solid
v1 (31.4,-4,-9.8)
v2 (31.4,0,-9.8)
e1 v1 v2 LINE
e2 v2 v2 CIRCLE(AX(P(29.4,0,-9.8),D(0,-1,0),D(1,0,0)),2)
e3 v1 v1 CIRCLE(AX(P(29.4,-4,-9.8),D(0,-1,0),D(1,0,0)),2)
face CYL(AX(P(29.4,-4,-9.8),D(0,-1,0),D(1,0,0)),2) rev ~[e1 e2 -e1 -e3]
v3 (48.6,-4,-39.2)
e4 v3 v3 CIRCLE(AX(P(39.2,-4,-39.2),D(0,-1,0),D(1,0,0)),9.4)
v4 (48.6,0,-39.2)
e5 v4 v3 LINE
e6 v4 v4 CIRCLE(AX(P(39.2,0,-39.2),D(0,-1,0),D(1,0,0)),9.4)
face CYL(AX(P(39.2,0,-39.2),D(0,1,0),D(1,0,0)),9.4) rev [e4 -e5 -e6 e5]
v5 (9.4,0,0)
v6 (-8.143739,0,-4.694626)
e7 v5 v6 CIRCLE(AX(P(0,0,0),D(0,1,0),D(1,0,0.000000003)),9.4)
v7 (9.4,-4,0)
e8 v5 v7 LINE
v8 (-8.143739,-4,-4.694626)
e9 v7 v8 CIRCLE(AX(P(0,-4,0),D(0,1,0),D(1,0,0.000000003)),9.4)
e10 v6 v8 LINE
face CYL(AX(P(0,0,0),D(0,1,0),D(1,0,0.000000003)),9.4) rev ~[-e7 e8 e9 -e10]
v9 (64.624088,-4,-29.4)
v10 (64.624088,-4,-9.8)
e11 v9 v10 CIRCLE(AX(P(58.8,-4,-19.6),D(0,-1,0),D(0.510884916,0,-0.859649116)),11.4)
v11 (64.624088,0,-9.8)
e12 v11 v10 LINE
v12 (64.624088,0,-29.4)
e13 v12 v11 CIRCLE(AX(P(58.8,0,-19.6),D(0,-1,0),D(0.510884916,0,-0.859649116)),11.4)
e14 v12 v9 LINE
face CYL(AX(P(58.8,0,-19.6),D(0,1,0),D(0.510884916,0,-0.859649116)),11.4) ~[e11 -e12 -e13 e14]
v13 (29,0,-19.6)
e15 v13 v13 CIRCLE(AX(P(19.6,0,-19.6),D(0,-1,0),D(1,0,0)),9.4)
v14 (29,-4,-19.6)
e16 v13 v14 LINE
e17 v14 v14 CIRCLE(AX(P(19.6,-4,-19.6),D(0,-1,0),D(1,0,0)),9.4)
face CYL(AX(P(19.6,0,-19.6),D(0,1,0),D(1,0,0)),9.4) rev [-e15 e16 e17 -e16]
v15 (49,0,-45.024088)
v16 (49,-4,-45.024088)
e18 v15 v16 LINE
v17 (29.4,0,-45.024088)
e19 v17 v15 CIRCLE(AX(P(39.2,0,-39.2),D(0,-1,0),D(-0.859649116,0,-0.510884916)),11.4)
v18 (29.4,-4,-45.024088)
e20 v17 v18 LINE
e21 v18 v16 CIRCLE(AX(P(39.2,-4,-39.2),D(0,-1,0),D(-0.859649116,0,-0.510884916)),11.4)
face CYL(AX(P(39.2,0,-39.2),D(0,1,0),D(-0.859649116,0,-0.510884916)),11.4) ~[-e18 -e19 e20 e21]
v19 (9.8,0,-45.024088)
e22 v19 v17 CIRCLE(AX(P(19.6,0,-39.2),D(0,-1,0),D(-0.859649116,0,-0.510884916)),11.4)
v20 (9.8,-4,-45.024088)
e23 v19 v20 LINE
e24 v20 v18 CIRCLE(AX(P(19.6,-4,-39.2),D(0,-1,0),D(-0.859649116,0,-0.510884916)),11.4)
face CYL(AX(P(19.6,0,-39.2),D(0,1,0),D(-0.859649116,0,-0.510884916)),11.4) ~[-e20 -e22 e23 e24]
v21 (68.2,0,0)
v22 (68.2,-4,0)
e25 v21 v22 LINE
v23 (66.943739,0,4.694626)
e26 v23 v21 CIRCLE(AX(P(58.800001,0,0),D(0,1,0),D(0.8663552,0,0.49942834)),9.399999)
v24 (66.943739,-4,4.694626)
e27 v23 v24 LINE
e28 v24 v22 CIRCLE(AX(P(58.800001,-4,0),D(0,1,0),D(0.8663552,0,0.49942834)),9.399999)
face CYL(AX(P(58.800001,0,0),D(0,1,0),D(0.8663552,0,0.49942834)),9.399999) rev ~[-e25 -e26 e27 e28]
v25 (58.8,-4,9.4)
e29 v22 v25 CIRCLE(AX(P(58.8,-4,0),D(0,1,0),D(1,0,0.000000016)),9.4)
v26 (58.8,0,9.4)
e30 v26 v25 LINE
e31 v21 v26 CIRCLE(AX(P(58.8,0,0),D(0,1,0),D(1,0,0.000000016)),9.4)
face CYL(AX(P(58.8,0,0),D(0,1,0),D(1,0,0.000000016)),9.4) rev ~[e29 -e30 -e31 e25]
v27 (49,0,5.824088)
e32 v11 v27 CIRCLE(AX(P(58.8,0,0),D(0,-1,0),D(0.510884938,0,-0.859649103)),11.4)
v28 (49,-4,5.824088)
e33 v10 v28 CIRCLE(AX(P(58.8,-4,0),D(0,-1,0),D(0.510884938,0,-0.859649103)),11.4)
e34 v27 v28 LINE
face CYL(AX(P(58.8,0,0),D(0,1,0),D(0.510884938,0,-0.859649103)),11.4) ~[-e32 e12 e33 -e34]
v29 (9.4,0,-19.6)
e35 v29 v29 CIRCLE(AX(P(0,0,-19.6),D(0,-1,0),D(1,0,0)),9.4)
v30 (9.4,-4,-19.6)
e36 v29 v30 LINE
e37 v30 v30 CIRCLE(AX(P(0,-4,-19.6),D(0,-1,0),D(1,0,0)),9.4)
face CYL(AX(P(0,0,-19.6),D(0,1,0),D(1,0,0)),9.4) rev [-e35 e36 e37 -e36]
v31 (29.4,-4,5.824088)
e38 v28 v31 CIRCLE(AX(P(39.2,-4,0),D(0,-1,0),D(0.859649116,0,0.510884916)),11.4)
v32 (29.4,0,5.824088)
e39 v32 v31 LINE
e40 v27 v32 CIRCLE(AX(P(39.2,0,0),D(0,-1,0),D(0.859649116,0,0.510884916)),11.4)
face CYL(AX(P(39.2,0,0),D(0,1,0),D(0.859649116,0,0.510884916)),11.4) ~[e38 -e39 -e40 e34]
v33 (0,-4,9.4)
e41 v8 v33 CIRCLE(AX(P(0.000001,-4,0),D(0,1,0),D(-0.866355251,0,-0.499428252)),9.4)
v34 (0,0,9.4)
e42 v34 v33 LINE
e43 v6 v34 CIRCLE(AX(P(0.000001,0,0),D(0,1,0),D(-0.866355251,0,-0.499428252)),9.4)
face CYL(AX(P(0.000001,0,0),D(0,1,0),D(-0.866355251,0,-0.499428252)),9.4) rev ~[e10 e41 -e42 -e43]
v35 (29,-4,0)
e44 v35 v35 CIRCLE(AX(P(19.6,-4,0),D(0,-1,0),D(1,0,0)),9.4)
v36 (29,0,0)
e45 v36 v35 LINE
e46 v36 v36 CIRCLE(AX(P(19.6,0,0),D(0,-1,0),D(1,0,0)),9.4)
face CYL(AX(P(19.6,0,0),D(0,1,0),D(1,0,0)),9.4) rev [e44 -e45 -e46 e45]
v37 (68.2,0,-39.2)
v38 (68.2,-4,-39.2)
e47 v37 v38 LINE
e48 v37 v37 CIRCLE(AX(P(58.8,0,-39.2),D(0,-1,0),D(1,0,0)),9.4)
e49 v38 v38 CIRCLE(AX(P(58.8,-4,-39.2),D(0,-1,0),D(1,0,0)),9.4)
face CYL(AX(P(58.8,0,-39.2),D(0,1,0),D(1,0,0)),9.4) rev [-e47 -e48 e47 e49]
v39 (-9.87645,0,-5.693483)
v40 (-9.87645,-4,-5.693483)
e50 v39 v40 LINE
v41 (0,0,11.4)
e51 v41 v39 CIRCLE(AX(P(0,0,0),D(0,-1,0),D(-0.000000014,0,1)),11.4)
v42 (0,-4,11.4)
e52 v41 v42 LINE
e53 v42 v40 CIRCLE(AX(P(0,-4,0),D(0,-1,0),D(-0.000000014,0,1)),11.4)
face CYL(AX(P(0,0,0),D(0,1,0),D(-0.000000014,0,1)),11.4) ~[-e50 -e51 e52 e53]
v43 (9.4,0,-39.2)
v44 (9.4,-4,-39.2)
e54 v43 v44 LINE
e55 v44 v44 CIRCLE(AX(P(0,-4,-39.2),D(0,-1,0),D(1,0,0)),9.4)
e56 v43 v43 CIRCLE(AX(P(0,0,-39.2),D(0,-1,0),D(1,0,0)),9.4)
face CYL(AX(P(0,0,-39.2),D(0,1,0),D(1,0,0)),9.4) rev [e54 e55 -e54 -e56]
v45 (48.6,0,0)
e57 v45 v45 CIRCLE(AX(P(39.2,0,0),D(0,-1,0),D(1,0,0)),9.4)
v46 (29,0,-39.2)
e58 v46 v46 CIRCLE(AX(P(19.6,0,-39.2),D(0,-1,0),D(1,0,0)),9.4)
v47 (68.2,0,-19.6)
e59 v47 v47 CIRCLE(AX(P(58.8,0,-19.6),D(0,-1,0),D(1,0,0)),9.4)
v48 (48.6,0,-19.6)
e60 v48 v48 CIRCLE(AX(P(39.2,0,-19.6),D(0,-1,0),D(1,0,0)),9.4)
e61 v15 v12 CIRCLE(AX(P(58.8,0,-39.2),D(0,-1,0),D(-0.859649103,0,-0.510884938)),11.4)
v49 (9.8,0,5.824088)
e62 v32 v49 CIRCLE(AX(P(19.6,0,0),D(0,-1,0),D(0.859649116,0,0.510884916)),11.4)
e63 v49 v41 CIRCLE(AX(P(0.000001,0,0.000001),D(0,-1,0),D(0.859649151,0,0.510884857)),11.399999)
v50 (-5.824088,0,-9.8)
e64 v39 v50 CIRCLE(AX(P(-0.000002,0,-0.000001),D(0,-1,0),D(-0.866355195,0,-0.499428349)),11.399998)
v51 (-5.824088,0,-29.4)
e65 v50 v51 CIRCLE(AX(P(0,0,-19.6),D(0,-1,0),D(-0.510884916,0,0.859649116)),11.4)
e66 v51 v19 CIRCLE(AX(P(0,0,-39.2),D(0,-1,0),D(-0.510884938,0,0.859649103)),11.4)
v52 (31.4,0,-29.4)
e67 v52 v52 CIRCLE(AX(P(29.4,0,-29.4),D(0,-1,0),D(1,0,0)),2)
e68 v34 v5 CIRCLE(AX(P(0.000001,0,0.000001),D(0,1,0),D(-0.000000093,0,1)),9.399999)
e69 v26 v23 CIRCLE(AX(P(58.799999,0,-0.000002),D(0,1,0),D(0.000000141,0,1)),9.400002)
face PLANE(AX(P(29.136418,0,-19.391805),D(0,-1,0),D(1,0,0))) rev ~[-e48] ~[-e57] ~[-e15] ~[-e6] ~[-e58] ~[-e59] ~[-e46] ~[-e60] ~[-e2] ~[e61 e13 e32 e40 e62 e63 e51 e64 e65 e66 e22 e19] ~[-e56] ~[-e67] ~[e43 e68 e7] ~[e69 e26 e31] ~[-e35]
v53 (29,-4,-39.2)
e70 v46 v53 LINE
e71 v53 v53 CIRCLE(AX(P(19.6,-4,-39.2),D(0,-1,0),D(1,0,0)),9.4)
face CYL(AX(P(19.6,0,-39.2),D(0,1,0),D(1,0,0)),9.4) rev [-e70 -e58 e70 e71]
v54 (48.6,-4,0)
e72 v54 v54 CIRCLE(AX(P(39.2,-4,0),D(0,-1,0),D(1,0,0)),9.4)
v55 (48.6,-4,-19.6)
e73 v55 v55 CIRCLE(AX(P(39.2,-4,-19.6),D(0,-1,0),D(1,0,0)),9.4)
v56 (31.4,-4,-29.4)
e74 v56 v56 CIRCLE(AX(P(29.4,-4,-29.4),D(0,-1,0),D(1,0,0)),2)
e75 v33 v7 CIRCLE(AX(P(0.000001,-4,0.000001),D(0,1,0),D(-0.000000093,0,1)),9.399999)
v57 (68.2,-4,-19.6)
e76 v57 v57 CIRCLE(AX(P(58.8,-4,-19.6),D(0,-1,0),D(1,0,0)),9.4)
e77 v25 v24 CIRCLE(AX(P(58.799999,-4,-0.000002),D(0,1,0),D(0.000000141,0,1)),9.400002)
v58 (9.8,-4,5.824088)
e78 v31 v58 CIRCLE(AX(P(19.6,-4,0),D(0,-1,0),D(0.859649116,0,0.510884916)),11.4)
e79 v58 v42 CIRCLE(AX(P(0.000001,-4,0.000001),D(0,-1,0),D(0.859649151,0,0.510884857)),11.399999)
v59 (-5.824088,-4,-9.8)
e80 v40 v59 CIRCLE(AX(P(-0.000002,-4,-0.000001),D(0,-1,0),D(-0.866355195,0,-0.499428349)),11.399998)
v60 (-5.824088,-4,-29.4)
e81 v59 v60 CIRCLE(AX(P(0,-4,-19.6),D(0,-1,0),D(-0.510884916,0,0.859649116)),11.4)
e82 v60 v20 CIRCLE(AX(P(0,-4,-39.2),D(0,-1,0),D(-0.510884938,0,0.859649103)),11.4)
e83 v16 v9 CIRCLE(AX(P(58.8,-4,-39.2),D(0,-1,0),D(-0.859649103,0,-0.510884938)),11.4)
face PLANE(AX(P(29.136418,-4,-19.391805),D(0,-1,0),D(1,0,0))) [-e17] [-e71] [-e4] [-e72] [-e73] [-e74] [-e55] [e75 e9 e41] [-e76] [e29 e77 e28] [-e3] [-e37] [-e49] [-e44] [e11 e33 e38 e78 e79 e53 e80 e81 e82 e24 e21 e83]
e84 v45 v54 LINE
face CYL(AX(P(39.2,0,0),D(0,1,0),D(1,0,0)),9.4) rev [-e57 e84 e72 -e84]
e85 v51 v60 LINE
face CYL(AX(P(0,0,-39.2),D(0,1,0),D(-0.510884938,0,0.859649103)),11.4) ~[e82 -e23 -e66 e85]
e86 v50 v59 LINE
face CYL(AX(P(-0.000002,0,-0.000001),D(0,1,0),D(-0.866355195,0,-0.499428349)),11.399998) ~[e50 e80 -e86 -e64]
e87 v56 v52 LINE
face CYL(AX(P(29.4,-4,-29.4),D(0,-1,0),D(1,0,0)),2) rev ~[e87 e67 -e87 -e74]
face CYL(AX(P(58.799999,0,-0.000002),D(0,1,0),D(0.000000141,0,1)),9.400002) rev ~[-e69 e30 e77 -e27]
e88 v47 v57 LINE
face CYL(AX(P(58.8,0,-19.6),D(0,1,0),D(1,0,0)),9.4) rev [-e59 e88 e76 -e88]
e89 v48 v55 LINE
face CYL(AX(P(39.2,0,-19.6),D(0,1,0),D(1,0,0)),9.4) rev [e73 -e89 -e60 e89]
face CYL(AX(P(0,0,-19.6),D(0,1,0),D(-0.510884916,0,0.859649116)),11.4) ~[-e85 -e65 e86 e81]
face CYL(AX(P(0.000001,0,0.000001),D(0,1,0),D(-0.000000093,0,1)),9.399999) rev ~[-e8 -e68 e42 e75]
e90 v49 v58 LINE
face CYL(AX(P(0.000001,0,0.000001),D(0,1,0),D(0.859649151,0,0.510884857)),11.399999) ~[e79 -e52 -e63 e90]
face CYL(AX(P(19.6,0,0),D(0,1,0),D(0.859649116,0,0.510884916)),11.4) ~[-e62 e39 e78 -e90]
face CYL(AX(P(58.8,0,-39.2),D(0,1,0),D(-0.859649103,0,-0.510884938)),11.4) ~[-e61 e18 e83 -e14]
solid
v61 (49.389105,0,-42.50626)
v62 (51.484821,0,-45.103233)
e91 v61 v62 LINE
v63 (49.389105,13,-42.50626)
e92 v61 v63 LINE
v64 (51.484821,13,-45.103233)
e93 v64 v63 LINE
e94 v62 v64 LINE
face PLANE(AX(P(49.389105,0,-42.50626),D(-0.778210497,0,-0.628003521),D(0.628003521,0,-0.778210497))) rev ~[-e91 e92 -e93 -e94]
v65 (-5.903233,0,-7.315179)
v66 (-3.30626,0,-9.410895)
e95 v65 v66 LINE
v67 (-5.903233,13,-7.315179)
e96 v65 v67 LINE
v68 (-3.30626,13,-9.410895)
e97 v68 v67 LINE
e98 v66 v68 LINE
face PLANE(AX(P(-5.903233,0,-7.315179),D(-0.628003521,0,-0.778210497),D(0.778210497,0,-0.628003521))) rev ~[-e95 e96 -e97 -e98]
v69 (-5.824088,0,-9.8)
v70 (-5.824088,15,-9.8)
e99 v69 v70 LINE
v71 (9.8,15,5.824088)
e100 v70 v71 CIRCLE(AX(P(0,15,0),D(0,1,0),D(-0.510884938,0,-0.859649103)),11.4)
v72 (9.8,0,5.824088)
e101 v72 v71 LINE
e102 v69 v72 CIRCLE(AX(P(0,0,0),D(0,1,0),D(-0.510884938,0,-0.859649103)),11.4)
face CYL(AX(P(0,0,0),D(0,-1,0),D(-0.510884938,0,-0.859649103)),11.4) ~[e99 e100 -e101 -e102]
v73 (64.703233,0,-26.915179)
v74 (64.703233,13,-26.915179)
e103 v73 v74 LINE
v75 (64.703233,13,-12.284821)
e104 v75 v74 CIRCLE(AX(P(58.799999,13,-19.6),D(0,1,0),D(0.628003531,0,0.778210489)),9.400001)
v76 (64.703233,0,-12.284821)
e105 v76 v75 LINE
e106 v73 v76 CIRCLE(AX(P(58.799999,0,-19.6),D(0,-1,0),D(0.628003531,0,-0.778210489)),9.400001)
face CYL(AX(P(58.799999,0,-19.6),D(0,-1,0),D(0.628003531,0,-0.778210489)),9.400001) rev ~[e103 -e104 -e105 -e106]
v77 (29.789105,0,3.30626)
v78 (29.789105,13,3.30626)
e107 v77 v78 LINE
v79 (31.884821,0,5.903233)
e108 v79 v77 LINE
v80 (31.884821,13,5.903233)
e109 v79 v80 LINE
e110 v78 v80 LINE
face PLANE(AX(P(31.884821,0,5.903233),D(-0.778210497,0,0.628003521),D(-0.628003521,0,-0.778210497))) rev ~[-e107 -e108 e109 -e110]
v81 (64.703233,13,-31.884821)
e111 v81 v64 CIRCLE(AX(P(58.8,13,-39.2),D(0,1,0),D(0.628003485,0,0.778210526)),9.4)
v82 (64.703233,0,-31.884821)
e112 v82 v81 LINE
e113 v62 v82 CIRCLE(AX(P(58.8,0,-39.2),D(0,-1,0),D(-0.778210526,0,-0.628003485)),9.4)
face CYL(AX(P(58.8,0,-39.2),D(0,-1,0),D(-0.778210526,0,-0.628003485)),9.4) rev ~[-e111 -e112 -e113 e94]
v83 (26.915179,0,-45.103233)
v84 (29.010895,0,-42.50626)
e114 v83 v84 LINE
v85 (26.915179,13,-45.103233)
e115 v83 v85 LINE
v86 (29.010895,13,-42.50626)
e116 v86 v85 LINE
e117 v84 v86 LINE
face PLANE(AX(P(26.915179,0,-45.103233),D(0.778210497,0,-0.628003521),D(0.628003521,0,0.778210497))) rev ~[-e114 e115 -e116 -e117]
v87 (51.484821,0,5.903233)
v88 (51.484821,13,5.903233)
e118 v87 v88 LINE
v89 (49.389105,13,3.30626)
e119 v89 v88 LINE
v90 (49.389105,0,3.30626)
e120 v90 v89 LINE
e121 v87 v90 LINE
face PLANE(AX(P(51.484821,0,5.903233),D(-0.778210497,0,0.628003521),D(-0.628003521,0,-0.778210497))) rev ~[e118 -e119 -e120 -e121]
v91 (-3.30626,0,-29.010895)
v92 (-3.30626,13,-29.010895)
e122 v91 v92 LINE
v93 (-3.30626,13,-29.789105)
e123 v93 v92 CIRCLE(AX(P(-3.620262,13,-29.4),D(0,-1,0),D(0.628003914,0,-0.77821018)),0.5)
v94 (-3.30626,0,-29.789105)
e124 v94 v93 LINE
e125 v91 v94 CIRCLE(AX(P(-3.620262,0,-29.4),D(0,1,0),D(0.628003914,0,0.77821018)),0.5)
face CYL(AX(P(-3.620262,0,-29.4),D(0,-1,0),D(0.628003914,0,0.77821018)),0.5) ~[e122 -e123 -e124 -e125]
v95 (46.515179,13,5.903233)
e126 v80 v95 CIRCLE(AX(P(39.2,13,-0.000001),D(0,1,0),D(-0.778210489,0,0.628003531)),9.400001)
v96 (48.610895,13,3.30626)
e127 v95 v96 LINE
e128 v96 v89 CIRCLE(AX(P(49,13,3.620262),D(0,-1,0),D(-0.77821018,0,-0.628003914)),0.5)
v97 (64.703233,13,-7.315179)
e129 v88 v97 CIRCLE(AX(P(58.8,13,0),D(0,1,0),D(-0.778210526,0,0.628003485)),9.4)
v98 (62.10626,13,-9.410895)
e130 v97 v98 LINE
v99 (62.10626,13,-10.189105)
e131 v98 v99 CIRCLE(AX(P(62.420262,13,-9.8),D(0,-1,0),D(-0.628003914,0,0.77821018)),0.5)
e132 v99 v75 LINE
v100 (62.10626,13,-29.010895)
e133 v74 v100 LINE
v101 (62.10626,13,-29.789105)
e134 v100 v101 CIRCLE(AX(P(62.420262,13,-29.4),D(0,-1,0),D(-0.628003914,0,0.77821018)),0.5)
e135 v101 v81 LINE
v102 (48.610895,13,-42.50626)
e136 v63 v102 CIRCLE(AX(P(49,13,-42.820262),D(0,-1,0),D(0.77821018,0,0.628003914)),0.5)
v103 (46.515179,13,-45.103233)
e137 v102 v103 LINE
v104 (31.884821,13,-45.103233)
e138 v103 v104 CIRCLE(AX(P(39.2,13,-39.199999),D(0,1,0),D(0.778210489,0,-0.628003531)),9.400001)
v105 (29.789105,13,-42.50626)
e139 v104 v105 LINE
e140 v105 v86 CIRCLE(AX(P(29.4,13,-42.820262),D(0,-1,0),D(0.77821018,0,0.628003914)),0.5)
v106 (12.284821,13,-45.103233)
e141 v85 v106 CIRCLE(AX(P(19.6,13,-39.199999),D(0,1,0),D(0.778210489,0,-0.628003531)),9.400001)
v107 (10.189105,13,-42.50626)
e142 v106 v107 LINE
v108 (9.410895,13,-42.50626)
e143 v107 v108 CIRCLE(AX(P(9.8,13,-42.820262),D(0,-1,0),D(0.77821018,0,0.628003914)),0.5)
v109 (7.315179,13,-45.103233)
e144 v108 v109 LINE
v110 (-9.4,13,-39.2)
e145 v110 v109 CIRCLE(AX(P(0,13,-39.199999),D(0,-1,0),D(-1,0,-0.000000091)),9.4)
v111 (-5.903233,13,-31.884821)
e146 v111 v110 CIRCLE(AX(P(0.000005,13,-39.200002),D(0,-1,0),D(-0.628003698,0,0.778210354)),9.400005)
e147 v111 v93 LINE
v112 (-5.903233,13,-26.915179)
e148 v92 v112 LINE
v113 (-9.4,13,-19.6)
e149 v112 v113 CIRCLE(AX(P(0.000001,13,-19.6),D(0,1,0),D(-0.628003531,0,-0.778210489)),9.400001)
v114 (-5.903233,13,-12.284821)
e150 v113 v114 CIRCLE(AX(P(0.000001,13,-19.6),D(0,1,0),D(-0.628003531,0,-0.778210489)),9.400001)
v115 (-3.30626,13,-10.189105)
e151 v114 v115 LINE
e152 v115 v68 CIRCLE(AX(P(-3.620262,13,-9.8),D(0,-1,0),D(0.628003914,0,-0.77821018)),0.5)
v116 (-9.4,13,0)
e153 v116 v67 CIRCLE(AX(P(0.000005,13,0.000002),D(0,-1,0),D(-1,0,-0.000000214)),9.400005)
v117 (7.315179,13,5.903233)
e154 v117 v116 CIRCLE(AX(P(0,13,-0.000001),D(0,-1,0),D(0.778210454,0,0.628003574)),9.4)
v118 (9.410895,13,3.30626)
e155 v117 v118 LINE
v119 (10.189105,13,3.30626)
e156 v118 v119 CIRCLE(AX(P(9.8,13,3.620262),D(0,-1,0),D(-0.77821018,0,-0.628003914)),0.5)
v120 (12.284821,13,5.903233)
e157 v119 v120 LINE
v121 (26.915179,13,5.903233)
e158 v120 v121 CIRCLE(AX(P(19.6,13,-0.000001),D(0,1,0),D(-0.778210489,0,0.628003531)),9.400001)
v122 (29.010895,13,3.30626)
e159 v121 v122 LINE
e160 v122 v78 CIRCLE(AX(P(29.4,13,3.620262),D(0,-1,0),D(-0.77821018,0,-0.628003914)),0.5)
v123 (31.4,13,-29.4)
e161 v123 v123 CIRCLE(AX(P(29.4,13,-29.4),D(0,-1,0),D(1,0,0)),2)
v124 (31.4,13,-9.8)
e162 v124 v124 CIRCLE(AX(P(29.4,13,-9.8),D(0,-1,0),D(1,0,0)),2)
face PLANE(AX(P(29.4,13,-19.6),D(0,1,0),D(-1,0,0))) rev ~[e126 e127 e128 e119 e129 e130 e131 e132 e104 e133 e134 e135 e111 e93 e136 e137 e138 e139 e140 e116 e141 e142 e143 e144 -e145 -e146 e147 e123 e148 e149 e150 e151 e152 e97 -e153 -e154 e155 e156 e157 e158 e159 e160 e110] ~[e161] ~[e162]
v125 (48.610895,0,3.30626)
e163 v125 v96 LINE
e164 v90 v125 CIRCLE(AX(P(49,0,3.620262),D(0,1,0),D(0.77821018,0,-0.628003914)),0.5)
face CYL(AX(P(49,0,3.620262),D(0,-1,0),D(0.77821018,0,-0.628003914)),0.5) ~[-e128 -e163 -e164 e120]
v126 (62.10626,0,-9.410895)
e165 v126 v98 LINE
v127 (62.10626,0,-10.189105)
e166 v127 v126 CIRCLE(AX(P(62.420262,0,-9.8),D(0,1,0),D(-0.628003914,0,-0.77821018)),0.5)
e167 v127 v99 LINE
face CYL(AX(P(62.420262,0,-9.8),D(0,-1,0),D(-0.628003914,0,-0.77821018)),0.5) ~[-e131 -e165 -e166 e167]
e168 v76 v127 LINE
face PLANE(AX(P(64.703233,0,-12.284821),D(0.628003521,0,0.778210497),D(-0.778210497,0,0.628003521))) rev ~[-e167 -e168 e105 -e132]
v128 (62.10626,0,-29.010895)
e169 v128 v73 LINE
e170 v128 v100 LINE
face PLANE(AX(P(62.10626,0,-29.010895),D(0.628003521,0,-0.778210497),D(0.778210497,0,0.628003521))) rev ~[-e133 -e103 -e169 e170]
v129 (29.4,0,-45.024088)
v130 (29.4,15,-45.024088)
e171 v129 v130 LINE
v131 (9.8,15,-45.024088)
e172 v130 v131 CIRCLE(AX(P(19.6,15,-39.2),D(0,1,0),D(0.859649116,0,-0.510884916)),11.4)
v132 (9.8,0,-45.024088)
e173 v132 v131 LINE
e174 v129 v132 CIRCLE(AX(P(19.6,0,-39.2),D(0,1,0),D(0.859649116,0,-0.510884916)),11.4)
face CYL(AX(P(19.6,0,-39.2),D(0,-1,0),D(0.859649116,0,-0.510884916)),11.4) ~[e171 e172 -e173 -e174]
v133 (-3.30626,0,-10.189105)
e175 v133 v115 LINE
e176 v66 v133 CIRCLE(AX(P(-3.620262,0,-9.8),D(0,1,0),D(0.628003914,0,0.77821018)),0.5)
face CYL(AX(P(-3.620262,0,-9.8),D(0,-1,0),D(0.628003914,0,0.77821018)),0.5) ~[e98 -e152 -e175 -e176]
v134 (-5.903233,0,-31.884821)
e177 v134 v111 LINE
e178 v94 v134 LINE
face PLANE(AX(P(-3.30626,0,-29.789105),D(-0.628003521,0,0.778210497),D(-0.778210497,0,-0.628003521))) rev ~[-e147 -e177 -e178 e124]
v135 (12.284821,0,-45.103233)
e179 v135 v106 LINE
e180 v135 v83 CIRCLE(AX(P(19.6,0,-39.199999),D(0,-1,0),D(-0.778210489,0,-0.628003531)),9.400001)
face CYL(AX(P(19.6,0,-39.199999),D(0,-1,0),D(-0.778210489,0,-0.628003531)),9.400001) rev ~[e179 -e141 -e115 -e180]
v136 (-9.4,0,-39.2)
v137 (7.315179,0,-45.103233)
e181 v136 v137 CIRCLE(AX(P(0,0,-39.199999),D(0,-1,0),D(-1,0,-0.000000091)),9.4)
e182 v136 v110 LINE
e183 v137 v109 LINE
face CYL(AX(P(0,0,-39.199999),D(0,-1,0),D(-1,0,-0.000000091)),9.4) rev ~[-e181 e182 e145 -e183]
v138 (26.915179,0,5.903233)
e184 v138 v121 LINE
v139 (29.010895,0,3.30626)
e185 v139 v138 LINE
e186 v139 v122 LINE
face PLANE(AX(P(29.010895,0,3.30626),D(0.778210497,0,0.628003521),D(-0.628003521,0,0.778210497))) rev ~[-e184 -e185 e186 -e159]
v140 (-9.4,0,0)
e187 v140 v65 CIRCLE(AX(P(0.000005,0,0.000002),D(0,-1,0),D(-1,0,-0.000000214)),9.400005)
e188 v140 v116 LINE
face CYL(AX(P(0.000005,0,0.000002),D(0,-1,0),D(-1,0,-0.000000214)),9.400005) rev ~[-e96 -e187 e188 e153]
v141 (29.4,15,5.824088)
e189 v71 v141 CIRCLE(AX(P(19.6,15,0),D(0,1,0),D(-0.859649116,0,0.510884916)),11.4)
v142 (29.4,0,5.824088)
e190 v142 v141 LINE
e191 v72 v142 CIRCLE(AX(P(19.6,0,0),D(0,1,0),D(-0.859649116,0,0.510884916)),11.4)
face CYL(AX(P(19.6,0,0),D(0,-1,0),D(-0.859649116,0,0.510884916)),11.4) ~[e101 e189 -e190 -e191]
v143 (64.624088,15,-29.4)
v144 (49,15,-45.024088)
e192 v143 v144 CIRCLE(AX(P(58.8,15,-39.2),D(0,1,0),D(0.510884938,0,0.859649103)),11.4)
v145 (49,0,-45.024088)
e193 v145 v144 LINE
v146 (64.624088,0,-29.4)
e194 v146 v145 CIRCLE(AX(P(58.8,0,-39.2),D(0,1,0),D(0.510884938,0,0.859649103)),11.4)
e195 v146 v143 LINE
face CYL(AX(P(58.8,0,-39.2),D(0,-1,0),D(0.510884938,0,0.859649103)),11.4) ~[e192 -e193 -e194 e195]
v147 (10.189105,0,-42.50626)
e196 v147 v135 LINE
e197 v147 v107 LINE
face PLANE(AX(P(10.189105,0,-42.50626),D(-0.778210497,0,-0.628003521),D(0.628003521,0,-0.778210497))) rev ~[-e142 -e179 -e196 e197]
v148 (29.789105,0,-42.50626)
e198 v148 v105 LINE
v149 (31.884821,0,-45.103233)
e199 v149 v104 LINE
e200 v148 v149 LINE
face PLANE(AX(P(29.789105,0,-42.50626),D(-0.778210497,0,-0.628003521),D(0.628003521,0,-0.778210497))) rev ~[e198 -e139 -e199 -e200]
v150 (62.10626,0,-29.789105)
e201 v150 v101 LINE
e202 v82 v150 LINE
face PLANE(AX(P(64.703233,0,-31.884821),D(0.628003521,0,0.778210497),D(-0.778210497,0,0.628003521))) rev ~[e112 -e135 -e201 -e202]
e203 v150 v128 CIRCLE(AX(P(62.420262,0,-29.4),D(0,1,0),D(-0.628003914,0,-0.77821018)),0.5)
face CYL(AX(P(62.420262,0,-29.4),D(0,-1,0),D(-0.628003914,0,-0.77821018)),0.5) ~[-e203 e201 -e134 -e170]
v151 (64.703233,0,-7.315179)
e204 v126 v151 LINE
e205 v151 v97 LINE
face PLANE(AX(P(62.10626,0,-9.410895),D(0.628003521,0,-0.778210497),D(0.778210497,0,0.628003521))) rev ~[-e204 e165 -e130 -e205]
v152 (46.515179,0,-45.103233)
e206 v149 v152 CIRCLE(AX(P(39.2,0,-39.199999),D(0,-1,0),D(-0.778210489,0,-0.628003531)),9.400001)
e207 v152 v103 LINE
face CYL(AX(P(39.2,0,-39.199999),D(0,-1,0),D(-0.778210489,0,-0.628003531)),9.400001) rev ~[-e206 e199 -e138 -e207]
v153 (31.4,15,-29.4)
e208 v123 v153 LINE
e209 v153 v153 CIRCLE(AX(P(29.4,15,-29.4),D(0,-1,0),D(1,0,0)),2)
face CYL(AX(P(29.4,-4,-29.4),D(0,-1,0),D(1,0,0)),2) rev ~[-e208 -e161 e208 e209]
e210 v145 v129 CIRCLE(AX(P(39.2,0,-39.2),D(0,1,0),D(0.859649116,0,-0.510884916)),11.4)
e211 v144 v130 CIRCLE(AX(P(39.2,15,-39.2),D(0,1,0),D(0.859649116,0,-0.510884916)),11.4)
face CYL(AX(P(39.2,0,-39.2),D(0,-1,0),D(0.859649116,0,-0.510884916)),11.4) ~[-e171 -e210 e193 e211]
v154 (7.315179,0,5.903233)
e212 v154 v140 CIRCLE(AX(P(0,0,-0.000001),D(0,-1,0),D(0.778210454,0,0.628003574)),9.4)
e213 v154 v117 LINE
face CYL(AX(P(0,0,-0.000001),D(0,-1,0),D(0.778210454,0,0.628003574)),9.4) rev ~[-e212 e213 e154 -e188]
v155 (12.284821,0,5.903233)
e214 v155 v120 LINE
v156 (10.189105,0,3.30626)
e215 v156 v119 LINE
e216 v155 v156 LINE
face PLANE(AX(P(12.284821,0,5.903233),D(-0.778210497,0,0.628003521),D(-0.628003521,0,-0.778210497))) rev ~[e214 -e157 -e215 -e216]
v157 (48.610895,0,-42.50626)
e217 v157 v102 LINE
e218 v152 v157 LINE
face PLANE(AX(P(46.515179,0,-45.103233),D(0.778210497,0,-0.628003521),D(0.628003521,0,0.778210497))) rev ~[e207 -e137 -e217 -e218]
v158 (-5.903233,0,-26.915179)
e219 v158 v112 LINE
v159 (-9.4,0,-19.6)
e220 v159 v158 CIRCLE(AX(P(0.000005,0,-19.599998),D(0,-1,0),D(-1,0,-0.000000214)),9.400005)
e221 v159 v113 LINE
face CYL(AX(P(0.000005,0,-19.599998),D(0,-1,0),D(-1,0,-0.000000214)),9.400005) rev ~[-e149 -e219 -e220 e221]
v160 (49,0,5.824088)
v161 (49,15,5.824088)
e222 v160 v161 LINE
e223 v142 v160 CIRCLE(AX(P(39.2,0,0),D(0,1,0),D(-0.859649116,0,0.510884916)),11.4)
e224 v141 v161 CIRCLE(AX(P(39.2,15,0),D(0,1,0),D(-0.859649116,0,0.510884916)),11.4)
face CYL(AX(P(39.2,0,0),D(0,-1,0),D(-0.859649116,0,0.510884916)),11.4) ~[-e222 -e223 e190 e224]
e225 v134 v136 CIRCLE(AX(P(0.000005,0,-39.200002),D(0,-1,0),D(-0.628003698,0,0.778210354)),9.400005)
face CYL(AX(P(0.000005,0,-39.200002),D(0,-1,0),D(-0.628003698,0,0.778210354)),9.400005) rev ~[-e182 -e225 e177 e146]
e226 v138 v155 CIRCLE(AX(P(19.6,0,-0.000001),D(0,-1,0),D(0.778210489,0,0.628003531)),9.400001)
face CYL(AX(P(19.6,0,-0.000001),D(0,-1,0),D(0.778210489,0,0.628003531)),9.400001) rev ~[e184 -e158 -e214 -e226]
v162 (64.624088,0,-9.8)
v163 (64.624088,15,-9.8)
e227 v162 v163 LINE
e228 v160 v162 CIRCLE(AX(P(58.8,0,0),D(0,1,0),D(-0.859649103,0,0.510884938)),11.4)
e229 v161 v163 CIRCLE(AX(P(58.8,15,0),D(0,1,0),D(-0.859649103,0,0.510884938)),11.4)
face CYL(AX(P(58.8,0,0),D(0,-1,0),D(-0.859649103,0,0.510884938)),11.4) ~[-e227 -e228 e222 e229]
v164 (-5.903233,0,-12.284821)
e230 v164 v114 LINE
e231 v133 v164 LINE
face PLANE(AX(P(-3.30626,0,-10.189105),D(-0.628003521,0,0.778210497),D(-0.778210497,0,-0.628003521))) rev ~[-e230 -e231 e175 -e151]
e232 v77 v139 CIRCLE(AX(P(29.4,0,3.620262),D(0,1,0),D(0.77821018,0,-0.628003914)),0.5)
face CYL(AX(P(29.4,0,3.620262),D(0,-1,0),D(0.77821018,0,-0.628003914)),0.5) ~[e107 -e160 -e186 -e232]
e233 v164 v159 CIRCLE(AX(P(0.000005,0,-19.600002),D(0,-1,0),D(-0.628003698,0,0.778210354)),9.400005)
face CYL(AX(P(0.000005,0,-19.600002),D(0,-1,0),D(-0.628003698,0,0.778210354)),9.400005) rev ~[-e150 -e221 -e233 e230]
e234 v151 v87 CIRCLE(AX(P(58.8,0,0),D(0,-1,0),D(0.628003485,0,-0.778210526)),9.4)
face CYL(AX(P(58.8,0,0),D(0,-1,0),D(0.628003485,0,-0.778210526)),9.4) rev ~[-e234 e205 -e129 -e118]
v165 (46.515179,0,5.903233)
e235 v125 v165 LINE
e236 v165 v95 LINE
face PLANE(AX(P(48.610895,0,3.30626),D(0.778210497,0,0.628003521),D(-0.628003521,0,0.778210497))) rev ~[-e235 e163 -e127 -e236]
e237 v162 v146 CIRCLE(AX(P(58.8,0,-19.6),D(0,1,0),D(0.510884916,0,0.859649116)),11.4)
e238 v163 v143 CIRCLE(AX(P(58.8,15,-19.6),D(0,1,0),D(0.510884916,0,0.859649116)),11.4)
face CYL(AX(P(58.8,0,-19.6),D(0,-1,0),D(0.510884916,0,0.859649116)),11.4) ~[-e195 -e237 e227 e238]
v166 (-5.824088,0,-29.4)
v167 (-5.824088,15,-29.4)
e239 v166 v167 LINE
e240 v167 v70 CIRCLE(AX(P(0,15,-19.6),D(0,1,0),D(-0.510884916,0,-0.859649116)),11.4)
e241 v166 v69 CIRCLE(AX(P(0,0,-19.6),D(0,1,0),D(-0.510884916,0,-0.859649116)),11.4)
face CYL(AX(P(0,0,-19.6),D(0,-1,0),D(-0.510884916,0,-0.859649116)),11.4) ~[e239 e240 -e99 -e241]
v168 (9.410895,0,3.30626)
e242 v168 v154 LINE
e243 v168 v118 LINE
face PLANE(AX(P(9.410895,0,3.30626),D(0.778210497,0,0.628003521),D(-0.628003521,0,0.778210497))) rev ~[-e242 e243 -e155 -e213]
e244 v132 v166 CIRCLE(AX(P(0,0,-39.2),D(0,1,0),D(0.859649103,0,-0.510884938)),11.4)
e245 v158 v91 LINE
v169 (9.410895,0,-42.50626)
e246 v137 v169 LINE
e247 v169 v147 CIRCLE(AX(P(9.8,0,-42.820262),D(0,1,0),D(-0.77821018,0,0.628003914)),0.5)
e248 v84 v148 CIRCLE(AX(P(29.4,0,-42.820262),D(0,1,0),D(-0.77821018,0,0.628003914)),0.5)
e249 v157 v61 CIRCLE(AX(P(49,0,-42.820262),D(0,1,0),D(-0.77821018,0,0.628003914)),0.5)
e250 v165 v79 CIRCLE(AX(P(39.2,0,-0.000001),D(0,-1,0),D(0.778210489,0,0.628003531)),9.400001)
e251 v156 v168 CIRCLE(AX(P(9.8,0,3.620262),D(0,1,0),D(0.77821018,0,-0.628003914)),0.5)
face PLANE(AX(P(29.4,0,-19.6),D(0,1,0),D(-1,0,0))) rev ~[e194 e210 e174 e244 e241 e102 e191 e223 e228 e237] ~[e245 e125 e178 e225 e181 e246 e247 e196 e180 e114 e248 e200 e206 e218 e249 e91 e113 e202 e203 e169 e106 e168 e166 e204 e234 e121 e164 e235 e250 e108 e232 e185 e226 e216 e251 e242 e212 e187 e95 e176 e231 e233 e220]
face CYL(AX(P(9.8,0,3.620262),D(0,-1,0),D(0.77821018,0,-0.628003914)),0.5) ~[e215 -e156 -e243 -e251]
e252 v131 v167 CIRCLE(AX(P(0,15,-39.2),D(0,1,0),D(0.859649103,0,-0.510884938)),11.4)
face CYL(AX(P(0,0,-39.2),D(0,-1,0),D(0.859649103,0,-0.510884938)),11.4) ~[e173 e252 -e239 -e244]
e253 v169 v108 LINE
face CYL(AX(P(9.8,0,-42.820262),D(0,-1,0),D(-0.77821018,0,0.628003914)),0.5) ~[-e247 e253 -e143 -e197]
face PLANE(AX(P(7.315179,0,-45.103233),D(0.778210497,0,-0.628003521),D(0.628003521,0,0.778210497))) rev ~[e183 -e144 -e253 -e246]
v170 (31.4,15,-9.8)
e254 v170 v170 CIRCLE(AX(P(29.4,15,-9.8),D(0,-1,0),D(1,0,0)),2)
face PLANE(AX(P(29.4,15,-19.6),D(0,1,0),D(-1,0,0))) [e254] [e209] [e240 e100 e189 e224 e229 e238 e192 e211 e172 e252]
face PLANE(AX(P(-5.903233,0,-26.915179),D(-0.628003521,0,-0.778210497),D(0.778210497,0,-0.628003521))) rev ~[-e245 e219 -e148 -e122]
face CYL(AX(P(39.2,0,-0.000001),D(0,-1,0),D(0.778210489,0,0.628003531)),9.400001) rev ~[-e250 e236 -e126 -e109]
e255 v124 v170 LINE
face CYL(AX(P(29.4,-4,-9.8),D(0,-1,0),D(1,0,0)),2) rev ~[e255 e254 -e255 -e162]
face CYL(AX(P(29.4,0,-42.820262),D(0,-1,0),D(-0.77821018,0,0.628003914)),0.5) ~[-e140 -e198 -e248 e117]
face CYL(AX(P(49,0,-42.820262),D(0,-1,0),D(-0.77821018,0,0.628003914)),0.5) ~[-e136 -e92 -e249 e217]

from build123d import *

# Parameters (mm, degrees)
F0_R     = 9.4
F1_DEPTH = 4
F3_DEPTH = 15
F5_DEPTH = 2
F6_R     = 2
F7_DEPTH = 19.001


with BuildPart() as f1:
    # F0 (on Front) → F1 (new body)
    with BuildSketch(Plane.XZ):
        with BuildLine():
            ThreePointArc((9.8, 5.824088), (5.637615, 9.908446), (0, 11.4))
            ThreePointArc((0, 11.4), (-9.870808, 5.703258), (-9.87645, -5.693483))
            ThreePointArc((-9.87645, -5.693483), (-8.114345, -8.007335), (-5.824088, -9.8))
            ThreePointArc((-5.824088, -9.8), (-11.4, -19.6), (-5.824088, -29.4))
            ThreePointArc((-5.824088, -29.4), (-8.061017, -47.261017), (9.8, -45.024088))
            ThreePointArc((9.8, -45.024088), (19.6, -50.6), (29.4, -45.024088))
            ThreePointArc((29.4, -45.024088), (39.2, -50.6), (49, -45.024088))
            ThreePointArc((49, -45.024088), (66.861017, -47.261017), (64.624088, -29.4))
            ThreePointArc((64.624088, -29.4), (70.2, -19.6), (64.624088, -9.8))
            ThreePointArc((64.624088, -9.8), (66.861017, 8.061017), (49, 5.824088))
            ThreePointArc((49, 5.824088), (39.2, 11.4), (29.4, 5.824088))
            ThreePointArc((29.4, 5.824088), (19.6, 11.4), (9.8, 5.824088))
        make_face()
        with Locations((0, -39.2)):
            Circle(F0_R, mode=Mode.SUBTRACT)
        with Locations((19.6, -39.2)):
            Circle(F0_R, mode=Mode.SUBTRACT)
        with Locations((39.2, -39.2)):
            Circle(F0_R, mode=Mode.SUBTRACT)
        with Locations((58.8, -39.2)):
            Circle(F0_R, mode=Mode.SUBTRACT)
        with Locations((0, -19.6)):
            Circle(F0_R, mode=Mode.SUBTRACT)
        with Locations((19.6, -19.6)):
            Circle(F0_R, mode=Mode.SUBTRACT)
        with BuildLine():
            ThreePointArc((0, 9.4), (6.646804, 6.646804), (9.4, 0))
            ThreePointArc((9.4, 0), (2.429903, -9.080505), (-8.143739, -4.694626))
            ThreePointArc((-8.143739, -4.694626), (-8.139087, 4.702686), (0, 9.4))
        make_face(mode=Mode.SUBTRACT)
        with Locations((19.6, 0)):
            Circle(F0_R, mode=Mode.SUBTRACT)
        with Locations((39.2, -19.6)):
            Circle(F0_R, mode=Mode.SUBTRACT)
        with Locations((58.8, -19.6)):
            Circle(F0_R, mode=Mode.SUBTRACT)
        with Locations((39.2, 0)):
            Circle(F0_R, mode=Mode.SUBTRACT)
        with BuildLine():
            ThreePointArc((66.943739, 4.694626), (67.880505, 2.429903), (68.2, 0))
            ThreePointArc((68.2, 0), (52.153196, -6.646804), (58.8, 9.4))
            ThreePointArc((58.8, 9.4), (63.502686, 8.139087), (66.943739, 4.694626))
        make_face(mode=Mode.SUBTRACT)
    extrude(amount=F1_DEPTH)


with BuildPart() as f3:
    # F2 (on face) → F3 (new body)
    with BuildSketch(Plane(origin=(0, 0, 0), x_dir=(-1, 0, 0), z_dir=(0, 1, 0))):
        with BuildLine():
            ThreePointArc((-9.8, -45.024088), (8.061017, -47.261017), (5.824088, -29.4))
            ThreePointArc((5.824088, -29.4), (11.4, -19.6), (5.824088, -9.8))
            ThreePointArc((5.824088, -9.8), (8.061017, 8.061017), (-9.8, 5.824088))
            ThreePointArc((-9.8, 5.824088), (-19.6, 11.4), (-29.4, 5.824088))
            ThreePointArc((-29.4, 5.824088), (-39.2, 11.4), (-49, 5.824088))
            ThreePointArc((-49, 5.824088), (-66.861017, 8.061017), (-64.624088, -9.8))
            ThreePointArc((-64.624088, -9.8), (-70.2, -19.6), (-64.624088, -29.4))
            ThreePointArc((-64.624088, -29.4), (-66.861017, -47.261017), (-49, -45.024088))
            ThreePointArc((-49, -45.024088), (-39.2, -50.6), (-29.4, -45.024088))
            ThreePointArc((-29.4, -45.024088), (-19.6, -50.6), (-9.8, -45.024088))
        make_face()
        with BuildLine():
            ThreePointArc((9.4, -39.2), (3.130281, -48.063483), (-7.315179, -45.103233))
            Line((-7.315179, -45.103233), (-9.410895, -42.50626))
            ThreePointArc((-9.410895, -42.50626), (-9.8, -42.320262), (-10.189105, -42.50626))
            Line((-10.189105, -42.50626), (-12.284821, -45.103233))
            ThreePointArc((-12.284821, -45.103233), (-19.6, -48.6), (-26.915179, -45.103233))
            Line((-26.915179, -45.103233), (-29.010895, -42.50626))
            ThreePointArc((-29.010895, -42.50626), (-29.4, -42.320262), (-29.789105, -42.50626))
            Line((-29.789105, -42.50626), (-31.884821, -45.103233))
            ThreePointArc((-31.884821, -45.103233), (-39.2, -48.6), (-46.515179, -45.103233))
            Line((-46.515179, -45.103233), (-48.610895, -42.50626))
            ThreePointArc((-48.610895, -42.50626), (-49, -42.320262), (-49.389105, -42.50626))
            Line((-49.389105, -42.50626), (-51.484821, -45.103233))
            ThreePointArc((-51.484821, -45.103233), (-65.446804, -45.846804), (-64.703233, -31.884821))
            Line((-64.703233, -31.884821), (-62.10626, -29.789105))
            ThreePointArc((-62.10626, -29.789105), (-61.920262, -29.4), (-62.10626, -29.010895))
            Line((-62.10626, -29.010895), (-64.703233, -26.915179))
            ThreePointArc((-64.703233, -26.915179), (-68.2, -19.6), (-64.703233, -12.284821))
            Line((-64.703233, -12.284821), (-62.10626, -10.189105))
            ThreePointArc((-62.10626, -10.189105), (-61.920262, -9.8), (-62.10626, -9.410895))
            Line((-62.10626, -9.410895), (-64.703233, -7.315179))
            ThreePointArc((-64.703233, -7.315179), (-65.446804, 6.646804), (-51.484821, 5.903233))
            Line((-51.484821, 5.903233), (-49.389105, 3.30626))
            ThreePointArc((-49.389105, 3.30626), (-49, 3.120262), (-48.610895, 3.30626))
            Line((-48.610895, 3.30626), (-46.515179, 5.903233))
            ThreePointArc((-46.515179, 5.903233), (-39.2, 9.4), (-31.884821, 5.903233))
            Line((-31.884821, 5.903233), (-29.789105, 3.30626))
            ThreePointArc((-29.789105, 3.30626), (-29.4, 3.120262), (-29.010895, 3.30626))
            Line((-29.010895, 3.30626), (-26.915179, 5.903233))
            ThreePointArc((-26.915179, 5.903233), (-19.6, 9.4), (-12.284821, 5.903233))
            Line((-12.284821, 5.903233), (-10.189105, 3.30626))
            ThreePointArc((-10.189105, 3.30626), (-9.8, 3.120262), (-9.410895, 3.30626))
            Line((-9.410895, 3.30626), (-7.315179, 5.903233))
            ThreePointArc((-7.315179, 5.903233), (3.130281, 8.863483), (9.4, 0))
            ThreePointArc((9.4, 0), (8.480872, -4.053986), (5.903233, -7.315179))
            Line((5.903233, -7.315179), (3.30626, -9.410895))
            ThreePointArc((3.30626, -9.410895), (3.120262, -9.8), (3.30626, -10.189105))
            Line((3.30626, -10.189105), (5.903233, -12.284821))
            ThreePointArc((5.903233, -12.284821), (8.480872, -15.546014), (9.4, -19.6))
            ThreePointArc((9.4, -19.6), (8.480872, -23.653986), (5.903233, -26.915179))
            Line((5.903233, -26.915179), (3.30626, -29.010895))
            ThreePointArc((3.30626, -29.010895), (3.120262, -29.4), (3.30626, -29.789105))
            Line((3.30626, -29.789105), (5.903233, -31.884821))
            ThreePointArc((5.903233, -31.884821), (8.480872, -35.146014), (9.4, -39.2))
        make_face(mode=Mode.SUBTRACT)
    extrude(amount=F3_DEPTH)

    # F4 (on face) → F5 (join)
    with BuildSketch(Plane(origin=(0, 15, 0), x_dir=(-1, 0, 0), z_dir=(0, 1, 0))):
        with BuildLine():
            ThreePointArc((-51.484821, 5.903233), (-65.446804, 6.646804), (-64.703233, -7.315179))
            Line((-64.703233, -7.315179), (-62.10626, -9.410895))
            ThreePointArc((-62.10626, -9.410895), (-61.920262, -9.8), (-62.10626, -10.189105))
            Line((-62.10626, -10.189105), (-64.703233, -12.284821))
            ThreePointArc((-64.703233, -12.284821), (-68.2, -19.6), (-64.703233, -26.915179))
            Line((-64.703233, -26.915179), (-62.10626, -29.010895))
            ThreePointArc((-62.10626, -29.010895), (-61.920262, -29.4), (-62.10626, -29.789105))
            Line((-62.10626, -29.789105), (-64.703233, -31.884821))
            ThreePointArc((-64.703233, -31.884821), (-65.446804, -45.846804), (-51.484821, -45.103233))
            Line((-51.484821, -45.103233), (-49.389105, -42.50626))
            ThreePointArc((-49.389105, -42.50626), (-49, -42.320262), (-48.610895, -42.50626))
            Line((-48.610895, -42.50626), (-46.515179, -45.103233))
            ThreePointArc((-46.515179, -45.103233), (-39.2, -48.6), (-31.884821, -45.103233))
            Line((-31.884821, -45.103233), (-29.789105, -42.50626))
            ThreePointArc((-29.789105, -42.50626), (-29.4, -42.320262), (-29.010895, -42.50626))
            Line((-29.010895, -42.50626), (-26.915179, -45.103233))
            ThreePointArc((-26.915179, -45.103233), (-19.6, -48.6), (-12.284821, -45.103233))
            Line((-12.284821, -45.103233), (-10.189105, -42.50626))
            ThreePointArc((-10.189105, -42.50626), (-9.8, -42.320262), (-9.410895, -42.50626))
            Line((-9.410895, -42.50626), (-7.315179, -45.103233))
            ThreePointArc((-7.315179, -45.103233), (6.646804, -45.846804), (5.903233, -31.884821))
            Line((5.903233, -31.884821), (3.30626, -29.789105))
            ThreePointArc((3.30626, -29.789105), (3.120262, -29.4), (3.30626, -29.010895))
            Line((3.30626, -29.010895), (5.903233, -26.915179))
            ThreePointArc((5.903233, -26.915179), (9.4, -19.6), (5.903233, -12.284821))
            Line((5.903233, -12.284821), (3.30626, -10.189105))
            ThreePointArc((3.30626, -10.189105), (3.120262, -9.8), (3.30626, -9.410895))
            Line((3.30626, -9.410895), (5.903233, -7.315179))
            ThreePointArc((5.903233, -7.315179), (6.646804, 6.646804), (-7.315179, 5.903233))
            Line((-7.315179, 5.903233), (-9.410895, 3.30626))
            ThreePointArc((-9.410895, 3.30626), (-9.8, 3.120262), (-10.189105, 3.30626))
            Line((-10.189105, 3.30626), (-12.284821, 5.903233))
            ThreePointArc((-12.284821, 5.903233), (-19.6, 9.4), (-26.915179, 5.903233))
            Line((-26.915179, 5.903233), (-29.010895, 3.30626))
            ThreePointArc((-29.010895, 3.30626), (-29.4, 3.120262), (-29.789105, 3.30626))
            Line((-29.789105, 3.30626), (-31.884821, 5.903233))
            ThreePointArc((-31.884821, 5.903233), (-39.2, 9.4), (-46.515179, 5.903233))
            Line((-46.515179, 5.903233), (-48.610895, 3.30626))
            ThreePointArc((-48.610895, 3.30626), (-49, 3.120262), (-49.389105, 3.30626))
            Line((-49.389105, 3.30626), (-51.484821, 5.903233))
        make_face()
    extrude(amount=-F5_DEPTH)


with BuildPart() as f7_tool:
    # F6 (on face) → F7 (new body, through all)
    with BuildSketch(Plane.XZ.offset(4)):
        with Locations((29.4, -9.8)):
            Circle(F6_R)
        with Locations((29.4, -29.4)):
            Circle(F6_R)
    extrude(amount=-F7_DEPTH)


with BuildPart() as f1_1:
    add(f1.part)

    # F7: cut by f7_tool
    add(f7_tool.part, mode=Mode.SUBTRACT)


with BuildPart() as f3_1:
    add(f3.part)

    # F7: cut by f7_tool
    add(f7_tool.part, mode=Mode.SUBTRACT)


solid = Compound([f1_1.part, f3_1.part])
